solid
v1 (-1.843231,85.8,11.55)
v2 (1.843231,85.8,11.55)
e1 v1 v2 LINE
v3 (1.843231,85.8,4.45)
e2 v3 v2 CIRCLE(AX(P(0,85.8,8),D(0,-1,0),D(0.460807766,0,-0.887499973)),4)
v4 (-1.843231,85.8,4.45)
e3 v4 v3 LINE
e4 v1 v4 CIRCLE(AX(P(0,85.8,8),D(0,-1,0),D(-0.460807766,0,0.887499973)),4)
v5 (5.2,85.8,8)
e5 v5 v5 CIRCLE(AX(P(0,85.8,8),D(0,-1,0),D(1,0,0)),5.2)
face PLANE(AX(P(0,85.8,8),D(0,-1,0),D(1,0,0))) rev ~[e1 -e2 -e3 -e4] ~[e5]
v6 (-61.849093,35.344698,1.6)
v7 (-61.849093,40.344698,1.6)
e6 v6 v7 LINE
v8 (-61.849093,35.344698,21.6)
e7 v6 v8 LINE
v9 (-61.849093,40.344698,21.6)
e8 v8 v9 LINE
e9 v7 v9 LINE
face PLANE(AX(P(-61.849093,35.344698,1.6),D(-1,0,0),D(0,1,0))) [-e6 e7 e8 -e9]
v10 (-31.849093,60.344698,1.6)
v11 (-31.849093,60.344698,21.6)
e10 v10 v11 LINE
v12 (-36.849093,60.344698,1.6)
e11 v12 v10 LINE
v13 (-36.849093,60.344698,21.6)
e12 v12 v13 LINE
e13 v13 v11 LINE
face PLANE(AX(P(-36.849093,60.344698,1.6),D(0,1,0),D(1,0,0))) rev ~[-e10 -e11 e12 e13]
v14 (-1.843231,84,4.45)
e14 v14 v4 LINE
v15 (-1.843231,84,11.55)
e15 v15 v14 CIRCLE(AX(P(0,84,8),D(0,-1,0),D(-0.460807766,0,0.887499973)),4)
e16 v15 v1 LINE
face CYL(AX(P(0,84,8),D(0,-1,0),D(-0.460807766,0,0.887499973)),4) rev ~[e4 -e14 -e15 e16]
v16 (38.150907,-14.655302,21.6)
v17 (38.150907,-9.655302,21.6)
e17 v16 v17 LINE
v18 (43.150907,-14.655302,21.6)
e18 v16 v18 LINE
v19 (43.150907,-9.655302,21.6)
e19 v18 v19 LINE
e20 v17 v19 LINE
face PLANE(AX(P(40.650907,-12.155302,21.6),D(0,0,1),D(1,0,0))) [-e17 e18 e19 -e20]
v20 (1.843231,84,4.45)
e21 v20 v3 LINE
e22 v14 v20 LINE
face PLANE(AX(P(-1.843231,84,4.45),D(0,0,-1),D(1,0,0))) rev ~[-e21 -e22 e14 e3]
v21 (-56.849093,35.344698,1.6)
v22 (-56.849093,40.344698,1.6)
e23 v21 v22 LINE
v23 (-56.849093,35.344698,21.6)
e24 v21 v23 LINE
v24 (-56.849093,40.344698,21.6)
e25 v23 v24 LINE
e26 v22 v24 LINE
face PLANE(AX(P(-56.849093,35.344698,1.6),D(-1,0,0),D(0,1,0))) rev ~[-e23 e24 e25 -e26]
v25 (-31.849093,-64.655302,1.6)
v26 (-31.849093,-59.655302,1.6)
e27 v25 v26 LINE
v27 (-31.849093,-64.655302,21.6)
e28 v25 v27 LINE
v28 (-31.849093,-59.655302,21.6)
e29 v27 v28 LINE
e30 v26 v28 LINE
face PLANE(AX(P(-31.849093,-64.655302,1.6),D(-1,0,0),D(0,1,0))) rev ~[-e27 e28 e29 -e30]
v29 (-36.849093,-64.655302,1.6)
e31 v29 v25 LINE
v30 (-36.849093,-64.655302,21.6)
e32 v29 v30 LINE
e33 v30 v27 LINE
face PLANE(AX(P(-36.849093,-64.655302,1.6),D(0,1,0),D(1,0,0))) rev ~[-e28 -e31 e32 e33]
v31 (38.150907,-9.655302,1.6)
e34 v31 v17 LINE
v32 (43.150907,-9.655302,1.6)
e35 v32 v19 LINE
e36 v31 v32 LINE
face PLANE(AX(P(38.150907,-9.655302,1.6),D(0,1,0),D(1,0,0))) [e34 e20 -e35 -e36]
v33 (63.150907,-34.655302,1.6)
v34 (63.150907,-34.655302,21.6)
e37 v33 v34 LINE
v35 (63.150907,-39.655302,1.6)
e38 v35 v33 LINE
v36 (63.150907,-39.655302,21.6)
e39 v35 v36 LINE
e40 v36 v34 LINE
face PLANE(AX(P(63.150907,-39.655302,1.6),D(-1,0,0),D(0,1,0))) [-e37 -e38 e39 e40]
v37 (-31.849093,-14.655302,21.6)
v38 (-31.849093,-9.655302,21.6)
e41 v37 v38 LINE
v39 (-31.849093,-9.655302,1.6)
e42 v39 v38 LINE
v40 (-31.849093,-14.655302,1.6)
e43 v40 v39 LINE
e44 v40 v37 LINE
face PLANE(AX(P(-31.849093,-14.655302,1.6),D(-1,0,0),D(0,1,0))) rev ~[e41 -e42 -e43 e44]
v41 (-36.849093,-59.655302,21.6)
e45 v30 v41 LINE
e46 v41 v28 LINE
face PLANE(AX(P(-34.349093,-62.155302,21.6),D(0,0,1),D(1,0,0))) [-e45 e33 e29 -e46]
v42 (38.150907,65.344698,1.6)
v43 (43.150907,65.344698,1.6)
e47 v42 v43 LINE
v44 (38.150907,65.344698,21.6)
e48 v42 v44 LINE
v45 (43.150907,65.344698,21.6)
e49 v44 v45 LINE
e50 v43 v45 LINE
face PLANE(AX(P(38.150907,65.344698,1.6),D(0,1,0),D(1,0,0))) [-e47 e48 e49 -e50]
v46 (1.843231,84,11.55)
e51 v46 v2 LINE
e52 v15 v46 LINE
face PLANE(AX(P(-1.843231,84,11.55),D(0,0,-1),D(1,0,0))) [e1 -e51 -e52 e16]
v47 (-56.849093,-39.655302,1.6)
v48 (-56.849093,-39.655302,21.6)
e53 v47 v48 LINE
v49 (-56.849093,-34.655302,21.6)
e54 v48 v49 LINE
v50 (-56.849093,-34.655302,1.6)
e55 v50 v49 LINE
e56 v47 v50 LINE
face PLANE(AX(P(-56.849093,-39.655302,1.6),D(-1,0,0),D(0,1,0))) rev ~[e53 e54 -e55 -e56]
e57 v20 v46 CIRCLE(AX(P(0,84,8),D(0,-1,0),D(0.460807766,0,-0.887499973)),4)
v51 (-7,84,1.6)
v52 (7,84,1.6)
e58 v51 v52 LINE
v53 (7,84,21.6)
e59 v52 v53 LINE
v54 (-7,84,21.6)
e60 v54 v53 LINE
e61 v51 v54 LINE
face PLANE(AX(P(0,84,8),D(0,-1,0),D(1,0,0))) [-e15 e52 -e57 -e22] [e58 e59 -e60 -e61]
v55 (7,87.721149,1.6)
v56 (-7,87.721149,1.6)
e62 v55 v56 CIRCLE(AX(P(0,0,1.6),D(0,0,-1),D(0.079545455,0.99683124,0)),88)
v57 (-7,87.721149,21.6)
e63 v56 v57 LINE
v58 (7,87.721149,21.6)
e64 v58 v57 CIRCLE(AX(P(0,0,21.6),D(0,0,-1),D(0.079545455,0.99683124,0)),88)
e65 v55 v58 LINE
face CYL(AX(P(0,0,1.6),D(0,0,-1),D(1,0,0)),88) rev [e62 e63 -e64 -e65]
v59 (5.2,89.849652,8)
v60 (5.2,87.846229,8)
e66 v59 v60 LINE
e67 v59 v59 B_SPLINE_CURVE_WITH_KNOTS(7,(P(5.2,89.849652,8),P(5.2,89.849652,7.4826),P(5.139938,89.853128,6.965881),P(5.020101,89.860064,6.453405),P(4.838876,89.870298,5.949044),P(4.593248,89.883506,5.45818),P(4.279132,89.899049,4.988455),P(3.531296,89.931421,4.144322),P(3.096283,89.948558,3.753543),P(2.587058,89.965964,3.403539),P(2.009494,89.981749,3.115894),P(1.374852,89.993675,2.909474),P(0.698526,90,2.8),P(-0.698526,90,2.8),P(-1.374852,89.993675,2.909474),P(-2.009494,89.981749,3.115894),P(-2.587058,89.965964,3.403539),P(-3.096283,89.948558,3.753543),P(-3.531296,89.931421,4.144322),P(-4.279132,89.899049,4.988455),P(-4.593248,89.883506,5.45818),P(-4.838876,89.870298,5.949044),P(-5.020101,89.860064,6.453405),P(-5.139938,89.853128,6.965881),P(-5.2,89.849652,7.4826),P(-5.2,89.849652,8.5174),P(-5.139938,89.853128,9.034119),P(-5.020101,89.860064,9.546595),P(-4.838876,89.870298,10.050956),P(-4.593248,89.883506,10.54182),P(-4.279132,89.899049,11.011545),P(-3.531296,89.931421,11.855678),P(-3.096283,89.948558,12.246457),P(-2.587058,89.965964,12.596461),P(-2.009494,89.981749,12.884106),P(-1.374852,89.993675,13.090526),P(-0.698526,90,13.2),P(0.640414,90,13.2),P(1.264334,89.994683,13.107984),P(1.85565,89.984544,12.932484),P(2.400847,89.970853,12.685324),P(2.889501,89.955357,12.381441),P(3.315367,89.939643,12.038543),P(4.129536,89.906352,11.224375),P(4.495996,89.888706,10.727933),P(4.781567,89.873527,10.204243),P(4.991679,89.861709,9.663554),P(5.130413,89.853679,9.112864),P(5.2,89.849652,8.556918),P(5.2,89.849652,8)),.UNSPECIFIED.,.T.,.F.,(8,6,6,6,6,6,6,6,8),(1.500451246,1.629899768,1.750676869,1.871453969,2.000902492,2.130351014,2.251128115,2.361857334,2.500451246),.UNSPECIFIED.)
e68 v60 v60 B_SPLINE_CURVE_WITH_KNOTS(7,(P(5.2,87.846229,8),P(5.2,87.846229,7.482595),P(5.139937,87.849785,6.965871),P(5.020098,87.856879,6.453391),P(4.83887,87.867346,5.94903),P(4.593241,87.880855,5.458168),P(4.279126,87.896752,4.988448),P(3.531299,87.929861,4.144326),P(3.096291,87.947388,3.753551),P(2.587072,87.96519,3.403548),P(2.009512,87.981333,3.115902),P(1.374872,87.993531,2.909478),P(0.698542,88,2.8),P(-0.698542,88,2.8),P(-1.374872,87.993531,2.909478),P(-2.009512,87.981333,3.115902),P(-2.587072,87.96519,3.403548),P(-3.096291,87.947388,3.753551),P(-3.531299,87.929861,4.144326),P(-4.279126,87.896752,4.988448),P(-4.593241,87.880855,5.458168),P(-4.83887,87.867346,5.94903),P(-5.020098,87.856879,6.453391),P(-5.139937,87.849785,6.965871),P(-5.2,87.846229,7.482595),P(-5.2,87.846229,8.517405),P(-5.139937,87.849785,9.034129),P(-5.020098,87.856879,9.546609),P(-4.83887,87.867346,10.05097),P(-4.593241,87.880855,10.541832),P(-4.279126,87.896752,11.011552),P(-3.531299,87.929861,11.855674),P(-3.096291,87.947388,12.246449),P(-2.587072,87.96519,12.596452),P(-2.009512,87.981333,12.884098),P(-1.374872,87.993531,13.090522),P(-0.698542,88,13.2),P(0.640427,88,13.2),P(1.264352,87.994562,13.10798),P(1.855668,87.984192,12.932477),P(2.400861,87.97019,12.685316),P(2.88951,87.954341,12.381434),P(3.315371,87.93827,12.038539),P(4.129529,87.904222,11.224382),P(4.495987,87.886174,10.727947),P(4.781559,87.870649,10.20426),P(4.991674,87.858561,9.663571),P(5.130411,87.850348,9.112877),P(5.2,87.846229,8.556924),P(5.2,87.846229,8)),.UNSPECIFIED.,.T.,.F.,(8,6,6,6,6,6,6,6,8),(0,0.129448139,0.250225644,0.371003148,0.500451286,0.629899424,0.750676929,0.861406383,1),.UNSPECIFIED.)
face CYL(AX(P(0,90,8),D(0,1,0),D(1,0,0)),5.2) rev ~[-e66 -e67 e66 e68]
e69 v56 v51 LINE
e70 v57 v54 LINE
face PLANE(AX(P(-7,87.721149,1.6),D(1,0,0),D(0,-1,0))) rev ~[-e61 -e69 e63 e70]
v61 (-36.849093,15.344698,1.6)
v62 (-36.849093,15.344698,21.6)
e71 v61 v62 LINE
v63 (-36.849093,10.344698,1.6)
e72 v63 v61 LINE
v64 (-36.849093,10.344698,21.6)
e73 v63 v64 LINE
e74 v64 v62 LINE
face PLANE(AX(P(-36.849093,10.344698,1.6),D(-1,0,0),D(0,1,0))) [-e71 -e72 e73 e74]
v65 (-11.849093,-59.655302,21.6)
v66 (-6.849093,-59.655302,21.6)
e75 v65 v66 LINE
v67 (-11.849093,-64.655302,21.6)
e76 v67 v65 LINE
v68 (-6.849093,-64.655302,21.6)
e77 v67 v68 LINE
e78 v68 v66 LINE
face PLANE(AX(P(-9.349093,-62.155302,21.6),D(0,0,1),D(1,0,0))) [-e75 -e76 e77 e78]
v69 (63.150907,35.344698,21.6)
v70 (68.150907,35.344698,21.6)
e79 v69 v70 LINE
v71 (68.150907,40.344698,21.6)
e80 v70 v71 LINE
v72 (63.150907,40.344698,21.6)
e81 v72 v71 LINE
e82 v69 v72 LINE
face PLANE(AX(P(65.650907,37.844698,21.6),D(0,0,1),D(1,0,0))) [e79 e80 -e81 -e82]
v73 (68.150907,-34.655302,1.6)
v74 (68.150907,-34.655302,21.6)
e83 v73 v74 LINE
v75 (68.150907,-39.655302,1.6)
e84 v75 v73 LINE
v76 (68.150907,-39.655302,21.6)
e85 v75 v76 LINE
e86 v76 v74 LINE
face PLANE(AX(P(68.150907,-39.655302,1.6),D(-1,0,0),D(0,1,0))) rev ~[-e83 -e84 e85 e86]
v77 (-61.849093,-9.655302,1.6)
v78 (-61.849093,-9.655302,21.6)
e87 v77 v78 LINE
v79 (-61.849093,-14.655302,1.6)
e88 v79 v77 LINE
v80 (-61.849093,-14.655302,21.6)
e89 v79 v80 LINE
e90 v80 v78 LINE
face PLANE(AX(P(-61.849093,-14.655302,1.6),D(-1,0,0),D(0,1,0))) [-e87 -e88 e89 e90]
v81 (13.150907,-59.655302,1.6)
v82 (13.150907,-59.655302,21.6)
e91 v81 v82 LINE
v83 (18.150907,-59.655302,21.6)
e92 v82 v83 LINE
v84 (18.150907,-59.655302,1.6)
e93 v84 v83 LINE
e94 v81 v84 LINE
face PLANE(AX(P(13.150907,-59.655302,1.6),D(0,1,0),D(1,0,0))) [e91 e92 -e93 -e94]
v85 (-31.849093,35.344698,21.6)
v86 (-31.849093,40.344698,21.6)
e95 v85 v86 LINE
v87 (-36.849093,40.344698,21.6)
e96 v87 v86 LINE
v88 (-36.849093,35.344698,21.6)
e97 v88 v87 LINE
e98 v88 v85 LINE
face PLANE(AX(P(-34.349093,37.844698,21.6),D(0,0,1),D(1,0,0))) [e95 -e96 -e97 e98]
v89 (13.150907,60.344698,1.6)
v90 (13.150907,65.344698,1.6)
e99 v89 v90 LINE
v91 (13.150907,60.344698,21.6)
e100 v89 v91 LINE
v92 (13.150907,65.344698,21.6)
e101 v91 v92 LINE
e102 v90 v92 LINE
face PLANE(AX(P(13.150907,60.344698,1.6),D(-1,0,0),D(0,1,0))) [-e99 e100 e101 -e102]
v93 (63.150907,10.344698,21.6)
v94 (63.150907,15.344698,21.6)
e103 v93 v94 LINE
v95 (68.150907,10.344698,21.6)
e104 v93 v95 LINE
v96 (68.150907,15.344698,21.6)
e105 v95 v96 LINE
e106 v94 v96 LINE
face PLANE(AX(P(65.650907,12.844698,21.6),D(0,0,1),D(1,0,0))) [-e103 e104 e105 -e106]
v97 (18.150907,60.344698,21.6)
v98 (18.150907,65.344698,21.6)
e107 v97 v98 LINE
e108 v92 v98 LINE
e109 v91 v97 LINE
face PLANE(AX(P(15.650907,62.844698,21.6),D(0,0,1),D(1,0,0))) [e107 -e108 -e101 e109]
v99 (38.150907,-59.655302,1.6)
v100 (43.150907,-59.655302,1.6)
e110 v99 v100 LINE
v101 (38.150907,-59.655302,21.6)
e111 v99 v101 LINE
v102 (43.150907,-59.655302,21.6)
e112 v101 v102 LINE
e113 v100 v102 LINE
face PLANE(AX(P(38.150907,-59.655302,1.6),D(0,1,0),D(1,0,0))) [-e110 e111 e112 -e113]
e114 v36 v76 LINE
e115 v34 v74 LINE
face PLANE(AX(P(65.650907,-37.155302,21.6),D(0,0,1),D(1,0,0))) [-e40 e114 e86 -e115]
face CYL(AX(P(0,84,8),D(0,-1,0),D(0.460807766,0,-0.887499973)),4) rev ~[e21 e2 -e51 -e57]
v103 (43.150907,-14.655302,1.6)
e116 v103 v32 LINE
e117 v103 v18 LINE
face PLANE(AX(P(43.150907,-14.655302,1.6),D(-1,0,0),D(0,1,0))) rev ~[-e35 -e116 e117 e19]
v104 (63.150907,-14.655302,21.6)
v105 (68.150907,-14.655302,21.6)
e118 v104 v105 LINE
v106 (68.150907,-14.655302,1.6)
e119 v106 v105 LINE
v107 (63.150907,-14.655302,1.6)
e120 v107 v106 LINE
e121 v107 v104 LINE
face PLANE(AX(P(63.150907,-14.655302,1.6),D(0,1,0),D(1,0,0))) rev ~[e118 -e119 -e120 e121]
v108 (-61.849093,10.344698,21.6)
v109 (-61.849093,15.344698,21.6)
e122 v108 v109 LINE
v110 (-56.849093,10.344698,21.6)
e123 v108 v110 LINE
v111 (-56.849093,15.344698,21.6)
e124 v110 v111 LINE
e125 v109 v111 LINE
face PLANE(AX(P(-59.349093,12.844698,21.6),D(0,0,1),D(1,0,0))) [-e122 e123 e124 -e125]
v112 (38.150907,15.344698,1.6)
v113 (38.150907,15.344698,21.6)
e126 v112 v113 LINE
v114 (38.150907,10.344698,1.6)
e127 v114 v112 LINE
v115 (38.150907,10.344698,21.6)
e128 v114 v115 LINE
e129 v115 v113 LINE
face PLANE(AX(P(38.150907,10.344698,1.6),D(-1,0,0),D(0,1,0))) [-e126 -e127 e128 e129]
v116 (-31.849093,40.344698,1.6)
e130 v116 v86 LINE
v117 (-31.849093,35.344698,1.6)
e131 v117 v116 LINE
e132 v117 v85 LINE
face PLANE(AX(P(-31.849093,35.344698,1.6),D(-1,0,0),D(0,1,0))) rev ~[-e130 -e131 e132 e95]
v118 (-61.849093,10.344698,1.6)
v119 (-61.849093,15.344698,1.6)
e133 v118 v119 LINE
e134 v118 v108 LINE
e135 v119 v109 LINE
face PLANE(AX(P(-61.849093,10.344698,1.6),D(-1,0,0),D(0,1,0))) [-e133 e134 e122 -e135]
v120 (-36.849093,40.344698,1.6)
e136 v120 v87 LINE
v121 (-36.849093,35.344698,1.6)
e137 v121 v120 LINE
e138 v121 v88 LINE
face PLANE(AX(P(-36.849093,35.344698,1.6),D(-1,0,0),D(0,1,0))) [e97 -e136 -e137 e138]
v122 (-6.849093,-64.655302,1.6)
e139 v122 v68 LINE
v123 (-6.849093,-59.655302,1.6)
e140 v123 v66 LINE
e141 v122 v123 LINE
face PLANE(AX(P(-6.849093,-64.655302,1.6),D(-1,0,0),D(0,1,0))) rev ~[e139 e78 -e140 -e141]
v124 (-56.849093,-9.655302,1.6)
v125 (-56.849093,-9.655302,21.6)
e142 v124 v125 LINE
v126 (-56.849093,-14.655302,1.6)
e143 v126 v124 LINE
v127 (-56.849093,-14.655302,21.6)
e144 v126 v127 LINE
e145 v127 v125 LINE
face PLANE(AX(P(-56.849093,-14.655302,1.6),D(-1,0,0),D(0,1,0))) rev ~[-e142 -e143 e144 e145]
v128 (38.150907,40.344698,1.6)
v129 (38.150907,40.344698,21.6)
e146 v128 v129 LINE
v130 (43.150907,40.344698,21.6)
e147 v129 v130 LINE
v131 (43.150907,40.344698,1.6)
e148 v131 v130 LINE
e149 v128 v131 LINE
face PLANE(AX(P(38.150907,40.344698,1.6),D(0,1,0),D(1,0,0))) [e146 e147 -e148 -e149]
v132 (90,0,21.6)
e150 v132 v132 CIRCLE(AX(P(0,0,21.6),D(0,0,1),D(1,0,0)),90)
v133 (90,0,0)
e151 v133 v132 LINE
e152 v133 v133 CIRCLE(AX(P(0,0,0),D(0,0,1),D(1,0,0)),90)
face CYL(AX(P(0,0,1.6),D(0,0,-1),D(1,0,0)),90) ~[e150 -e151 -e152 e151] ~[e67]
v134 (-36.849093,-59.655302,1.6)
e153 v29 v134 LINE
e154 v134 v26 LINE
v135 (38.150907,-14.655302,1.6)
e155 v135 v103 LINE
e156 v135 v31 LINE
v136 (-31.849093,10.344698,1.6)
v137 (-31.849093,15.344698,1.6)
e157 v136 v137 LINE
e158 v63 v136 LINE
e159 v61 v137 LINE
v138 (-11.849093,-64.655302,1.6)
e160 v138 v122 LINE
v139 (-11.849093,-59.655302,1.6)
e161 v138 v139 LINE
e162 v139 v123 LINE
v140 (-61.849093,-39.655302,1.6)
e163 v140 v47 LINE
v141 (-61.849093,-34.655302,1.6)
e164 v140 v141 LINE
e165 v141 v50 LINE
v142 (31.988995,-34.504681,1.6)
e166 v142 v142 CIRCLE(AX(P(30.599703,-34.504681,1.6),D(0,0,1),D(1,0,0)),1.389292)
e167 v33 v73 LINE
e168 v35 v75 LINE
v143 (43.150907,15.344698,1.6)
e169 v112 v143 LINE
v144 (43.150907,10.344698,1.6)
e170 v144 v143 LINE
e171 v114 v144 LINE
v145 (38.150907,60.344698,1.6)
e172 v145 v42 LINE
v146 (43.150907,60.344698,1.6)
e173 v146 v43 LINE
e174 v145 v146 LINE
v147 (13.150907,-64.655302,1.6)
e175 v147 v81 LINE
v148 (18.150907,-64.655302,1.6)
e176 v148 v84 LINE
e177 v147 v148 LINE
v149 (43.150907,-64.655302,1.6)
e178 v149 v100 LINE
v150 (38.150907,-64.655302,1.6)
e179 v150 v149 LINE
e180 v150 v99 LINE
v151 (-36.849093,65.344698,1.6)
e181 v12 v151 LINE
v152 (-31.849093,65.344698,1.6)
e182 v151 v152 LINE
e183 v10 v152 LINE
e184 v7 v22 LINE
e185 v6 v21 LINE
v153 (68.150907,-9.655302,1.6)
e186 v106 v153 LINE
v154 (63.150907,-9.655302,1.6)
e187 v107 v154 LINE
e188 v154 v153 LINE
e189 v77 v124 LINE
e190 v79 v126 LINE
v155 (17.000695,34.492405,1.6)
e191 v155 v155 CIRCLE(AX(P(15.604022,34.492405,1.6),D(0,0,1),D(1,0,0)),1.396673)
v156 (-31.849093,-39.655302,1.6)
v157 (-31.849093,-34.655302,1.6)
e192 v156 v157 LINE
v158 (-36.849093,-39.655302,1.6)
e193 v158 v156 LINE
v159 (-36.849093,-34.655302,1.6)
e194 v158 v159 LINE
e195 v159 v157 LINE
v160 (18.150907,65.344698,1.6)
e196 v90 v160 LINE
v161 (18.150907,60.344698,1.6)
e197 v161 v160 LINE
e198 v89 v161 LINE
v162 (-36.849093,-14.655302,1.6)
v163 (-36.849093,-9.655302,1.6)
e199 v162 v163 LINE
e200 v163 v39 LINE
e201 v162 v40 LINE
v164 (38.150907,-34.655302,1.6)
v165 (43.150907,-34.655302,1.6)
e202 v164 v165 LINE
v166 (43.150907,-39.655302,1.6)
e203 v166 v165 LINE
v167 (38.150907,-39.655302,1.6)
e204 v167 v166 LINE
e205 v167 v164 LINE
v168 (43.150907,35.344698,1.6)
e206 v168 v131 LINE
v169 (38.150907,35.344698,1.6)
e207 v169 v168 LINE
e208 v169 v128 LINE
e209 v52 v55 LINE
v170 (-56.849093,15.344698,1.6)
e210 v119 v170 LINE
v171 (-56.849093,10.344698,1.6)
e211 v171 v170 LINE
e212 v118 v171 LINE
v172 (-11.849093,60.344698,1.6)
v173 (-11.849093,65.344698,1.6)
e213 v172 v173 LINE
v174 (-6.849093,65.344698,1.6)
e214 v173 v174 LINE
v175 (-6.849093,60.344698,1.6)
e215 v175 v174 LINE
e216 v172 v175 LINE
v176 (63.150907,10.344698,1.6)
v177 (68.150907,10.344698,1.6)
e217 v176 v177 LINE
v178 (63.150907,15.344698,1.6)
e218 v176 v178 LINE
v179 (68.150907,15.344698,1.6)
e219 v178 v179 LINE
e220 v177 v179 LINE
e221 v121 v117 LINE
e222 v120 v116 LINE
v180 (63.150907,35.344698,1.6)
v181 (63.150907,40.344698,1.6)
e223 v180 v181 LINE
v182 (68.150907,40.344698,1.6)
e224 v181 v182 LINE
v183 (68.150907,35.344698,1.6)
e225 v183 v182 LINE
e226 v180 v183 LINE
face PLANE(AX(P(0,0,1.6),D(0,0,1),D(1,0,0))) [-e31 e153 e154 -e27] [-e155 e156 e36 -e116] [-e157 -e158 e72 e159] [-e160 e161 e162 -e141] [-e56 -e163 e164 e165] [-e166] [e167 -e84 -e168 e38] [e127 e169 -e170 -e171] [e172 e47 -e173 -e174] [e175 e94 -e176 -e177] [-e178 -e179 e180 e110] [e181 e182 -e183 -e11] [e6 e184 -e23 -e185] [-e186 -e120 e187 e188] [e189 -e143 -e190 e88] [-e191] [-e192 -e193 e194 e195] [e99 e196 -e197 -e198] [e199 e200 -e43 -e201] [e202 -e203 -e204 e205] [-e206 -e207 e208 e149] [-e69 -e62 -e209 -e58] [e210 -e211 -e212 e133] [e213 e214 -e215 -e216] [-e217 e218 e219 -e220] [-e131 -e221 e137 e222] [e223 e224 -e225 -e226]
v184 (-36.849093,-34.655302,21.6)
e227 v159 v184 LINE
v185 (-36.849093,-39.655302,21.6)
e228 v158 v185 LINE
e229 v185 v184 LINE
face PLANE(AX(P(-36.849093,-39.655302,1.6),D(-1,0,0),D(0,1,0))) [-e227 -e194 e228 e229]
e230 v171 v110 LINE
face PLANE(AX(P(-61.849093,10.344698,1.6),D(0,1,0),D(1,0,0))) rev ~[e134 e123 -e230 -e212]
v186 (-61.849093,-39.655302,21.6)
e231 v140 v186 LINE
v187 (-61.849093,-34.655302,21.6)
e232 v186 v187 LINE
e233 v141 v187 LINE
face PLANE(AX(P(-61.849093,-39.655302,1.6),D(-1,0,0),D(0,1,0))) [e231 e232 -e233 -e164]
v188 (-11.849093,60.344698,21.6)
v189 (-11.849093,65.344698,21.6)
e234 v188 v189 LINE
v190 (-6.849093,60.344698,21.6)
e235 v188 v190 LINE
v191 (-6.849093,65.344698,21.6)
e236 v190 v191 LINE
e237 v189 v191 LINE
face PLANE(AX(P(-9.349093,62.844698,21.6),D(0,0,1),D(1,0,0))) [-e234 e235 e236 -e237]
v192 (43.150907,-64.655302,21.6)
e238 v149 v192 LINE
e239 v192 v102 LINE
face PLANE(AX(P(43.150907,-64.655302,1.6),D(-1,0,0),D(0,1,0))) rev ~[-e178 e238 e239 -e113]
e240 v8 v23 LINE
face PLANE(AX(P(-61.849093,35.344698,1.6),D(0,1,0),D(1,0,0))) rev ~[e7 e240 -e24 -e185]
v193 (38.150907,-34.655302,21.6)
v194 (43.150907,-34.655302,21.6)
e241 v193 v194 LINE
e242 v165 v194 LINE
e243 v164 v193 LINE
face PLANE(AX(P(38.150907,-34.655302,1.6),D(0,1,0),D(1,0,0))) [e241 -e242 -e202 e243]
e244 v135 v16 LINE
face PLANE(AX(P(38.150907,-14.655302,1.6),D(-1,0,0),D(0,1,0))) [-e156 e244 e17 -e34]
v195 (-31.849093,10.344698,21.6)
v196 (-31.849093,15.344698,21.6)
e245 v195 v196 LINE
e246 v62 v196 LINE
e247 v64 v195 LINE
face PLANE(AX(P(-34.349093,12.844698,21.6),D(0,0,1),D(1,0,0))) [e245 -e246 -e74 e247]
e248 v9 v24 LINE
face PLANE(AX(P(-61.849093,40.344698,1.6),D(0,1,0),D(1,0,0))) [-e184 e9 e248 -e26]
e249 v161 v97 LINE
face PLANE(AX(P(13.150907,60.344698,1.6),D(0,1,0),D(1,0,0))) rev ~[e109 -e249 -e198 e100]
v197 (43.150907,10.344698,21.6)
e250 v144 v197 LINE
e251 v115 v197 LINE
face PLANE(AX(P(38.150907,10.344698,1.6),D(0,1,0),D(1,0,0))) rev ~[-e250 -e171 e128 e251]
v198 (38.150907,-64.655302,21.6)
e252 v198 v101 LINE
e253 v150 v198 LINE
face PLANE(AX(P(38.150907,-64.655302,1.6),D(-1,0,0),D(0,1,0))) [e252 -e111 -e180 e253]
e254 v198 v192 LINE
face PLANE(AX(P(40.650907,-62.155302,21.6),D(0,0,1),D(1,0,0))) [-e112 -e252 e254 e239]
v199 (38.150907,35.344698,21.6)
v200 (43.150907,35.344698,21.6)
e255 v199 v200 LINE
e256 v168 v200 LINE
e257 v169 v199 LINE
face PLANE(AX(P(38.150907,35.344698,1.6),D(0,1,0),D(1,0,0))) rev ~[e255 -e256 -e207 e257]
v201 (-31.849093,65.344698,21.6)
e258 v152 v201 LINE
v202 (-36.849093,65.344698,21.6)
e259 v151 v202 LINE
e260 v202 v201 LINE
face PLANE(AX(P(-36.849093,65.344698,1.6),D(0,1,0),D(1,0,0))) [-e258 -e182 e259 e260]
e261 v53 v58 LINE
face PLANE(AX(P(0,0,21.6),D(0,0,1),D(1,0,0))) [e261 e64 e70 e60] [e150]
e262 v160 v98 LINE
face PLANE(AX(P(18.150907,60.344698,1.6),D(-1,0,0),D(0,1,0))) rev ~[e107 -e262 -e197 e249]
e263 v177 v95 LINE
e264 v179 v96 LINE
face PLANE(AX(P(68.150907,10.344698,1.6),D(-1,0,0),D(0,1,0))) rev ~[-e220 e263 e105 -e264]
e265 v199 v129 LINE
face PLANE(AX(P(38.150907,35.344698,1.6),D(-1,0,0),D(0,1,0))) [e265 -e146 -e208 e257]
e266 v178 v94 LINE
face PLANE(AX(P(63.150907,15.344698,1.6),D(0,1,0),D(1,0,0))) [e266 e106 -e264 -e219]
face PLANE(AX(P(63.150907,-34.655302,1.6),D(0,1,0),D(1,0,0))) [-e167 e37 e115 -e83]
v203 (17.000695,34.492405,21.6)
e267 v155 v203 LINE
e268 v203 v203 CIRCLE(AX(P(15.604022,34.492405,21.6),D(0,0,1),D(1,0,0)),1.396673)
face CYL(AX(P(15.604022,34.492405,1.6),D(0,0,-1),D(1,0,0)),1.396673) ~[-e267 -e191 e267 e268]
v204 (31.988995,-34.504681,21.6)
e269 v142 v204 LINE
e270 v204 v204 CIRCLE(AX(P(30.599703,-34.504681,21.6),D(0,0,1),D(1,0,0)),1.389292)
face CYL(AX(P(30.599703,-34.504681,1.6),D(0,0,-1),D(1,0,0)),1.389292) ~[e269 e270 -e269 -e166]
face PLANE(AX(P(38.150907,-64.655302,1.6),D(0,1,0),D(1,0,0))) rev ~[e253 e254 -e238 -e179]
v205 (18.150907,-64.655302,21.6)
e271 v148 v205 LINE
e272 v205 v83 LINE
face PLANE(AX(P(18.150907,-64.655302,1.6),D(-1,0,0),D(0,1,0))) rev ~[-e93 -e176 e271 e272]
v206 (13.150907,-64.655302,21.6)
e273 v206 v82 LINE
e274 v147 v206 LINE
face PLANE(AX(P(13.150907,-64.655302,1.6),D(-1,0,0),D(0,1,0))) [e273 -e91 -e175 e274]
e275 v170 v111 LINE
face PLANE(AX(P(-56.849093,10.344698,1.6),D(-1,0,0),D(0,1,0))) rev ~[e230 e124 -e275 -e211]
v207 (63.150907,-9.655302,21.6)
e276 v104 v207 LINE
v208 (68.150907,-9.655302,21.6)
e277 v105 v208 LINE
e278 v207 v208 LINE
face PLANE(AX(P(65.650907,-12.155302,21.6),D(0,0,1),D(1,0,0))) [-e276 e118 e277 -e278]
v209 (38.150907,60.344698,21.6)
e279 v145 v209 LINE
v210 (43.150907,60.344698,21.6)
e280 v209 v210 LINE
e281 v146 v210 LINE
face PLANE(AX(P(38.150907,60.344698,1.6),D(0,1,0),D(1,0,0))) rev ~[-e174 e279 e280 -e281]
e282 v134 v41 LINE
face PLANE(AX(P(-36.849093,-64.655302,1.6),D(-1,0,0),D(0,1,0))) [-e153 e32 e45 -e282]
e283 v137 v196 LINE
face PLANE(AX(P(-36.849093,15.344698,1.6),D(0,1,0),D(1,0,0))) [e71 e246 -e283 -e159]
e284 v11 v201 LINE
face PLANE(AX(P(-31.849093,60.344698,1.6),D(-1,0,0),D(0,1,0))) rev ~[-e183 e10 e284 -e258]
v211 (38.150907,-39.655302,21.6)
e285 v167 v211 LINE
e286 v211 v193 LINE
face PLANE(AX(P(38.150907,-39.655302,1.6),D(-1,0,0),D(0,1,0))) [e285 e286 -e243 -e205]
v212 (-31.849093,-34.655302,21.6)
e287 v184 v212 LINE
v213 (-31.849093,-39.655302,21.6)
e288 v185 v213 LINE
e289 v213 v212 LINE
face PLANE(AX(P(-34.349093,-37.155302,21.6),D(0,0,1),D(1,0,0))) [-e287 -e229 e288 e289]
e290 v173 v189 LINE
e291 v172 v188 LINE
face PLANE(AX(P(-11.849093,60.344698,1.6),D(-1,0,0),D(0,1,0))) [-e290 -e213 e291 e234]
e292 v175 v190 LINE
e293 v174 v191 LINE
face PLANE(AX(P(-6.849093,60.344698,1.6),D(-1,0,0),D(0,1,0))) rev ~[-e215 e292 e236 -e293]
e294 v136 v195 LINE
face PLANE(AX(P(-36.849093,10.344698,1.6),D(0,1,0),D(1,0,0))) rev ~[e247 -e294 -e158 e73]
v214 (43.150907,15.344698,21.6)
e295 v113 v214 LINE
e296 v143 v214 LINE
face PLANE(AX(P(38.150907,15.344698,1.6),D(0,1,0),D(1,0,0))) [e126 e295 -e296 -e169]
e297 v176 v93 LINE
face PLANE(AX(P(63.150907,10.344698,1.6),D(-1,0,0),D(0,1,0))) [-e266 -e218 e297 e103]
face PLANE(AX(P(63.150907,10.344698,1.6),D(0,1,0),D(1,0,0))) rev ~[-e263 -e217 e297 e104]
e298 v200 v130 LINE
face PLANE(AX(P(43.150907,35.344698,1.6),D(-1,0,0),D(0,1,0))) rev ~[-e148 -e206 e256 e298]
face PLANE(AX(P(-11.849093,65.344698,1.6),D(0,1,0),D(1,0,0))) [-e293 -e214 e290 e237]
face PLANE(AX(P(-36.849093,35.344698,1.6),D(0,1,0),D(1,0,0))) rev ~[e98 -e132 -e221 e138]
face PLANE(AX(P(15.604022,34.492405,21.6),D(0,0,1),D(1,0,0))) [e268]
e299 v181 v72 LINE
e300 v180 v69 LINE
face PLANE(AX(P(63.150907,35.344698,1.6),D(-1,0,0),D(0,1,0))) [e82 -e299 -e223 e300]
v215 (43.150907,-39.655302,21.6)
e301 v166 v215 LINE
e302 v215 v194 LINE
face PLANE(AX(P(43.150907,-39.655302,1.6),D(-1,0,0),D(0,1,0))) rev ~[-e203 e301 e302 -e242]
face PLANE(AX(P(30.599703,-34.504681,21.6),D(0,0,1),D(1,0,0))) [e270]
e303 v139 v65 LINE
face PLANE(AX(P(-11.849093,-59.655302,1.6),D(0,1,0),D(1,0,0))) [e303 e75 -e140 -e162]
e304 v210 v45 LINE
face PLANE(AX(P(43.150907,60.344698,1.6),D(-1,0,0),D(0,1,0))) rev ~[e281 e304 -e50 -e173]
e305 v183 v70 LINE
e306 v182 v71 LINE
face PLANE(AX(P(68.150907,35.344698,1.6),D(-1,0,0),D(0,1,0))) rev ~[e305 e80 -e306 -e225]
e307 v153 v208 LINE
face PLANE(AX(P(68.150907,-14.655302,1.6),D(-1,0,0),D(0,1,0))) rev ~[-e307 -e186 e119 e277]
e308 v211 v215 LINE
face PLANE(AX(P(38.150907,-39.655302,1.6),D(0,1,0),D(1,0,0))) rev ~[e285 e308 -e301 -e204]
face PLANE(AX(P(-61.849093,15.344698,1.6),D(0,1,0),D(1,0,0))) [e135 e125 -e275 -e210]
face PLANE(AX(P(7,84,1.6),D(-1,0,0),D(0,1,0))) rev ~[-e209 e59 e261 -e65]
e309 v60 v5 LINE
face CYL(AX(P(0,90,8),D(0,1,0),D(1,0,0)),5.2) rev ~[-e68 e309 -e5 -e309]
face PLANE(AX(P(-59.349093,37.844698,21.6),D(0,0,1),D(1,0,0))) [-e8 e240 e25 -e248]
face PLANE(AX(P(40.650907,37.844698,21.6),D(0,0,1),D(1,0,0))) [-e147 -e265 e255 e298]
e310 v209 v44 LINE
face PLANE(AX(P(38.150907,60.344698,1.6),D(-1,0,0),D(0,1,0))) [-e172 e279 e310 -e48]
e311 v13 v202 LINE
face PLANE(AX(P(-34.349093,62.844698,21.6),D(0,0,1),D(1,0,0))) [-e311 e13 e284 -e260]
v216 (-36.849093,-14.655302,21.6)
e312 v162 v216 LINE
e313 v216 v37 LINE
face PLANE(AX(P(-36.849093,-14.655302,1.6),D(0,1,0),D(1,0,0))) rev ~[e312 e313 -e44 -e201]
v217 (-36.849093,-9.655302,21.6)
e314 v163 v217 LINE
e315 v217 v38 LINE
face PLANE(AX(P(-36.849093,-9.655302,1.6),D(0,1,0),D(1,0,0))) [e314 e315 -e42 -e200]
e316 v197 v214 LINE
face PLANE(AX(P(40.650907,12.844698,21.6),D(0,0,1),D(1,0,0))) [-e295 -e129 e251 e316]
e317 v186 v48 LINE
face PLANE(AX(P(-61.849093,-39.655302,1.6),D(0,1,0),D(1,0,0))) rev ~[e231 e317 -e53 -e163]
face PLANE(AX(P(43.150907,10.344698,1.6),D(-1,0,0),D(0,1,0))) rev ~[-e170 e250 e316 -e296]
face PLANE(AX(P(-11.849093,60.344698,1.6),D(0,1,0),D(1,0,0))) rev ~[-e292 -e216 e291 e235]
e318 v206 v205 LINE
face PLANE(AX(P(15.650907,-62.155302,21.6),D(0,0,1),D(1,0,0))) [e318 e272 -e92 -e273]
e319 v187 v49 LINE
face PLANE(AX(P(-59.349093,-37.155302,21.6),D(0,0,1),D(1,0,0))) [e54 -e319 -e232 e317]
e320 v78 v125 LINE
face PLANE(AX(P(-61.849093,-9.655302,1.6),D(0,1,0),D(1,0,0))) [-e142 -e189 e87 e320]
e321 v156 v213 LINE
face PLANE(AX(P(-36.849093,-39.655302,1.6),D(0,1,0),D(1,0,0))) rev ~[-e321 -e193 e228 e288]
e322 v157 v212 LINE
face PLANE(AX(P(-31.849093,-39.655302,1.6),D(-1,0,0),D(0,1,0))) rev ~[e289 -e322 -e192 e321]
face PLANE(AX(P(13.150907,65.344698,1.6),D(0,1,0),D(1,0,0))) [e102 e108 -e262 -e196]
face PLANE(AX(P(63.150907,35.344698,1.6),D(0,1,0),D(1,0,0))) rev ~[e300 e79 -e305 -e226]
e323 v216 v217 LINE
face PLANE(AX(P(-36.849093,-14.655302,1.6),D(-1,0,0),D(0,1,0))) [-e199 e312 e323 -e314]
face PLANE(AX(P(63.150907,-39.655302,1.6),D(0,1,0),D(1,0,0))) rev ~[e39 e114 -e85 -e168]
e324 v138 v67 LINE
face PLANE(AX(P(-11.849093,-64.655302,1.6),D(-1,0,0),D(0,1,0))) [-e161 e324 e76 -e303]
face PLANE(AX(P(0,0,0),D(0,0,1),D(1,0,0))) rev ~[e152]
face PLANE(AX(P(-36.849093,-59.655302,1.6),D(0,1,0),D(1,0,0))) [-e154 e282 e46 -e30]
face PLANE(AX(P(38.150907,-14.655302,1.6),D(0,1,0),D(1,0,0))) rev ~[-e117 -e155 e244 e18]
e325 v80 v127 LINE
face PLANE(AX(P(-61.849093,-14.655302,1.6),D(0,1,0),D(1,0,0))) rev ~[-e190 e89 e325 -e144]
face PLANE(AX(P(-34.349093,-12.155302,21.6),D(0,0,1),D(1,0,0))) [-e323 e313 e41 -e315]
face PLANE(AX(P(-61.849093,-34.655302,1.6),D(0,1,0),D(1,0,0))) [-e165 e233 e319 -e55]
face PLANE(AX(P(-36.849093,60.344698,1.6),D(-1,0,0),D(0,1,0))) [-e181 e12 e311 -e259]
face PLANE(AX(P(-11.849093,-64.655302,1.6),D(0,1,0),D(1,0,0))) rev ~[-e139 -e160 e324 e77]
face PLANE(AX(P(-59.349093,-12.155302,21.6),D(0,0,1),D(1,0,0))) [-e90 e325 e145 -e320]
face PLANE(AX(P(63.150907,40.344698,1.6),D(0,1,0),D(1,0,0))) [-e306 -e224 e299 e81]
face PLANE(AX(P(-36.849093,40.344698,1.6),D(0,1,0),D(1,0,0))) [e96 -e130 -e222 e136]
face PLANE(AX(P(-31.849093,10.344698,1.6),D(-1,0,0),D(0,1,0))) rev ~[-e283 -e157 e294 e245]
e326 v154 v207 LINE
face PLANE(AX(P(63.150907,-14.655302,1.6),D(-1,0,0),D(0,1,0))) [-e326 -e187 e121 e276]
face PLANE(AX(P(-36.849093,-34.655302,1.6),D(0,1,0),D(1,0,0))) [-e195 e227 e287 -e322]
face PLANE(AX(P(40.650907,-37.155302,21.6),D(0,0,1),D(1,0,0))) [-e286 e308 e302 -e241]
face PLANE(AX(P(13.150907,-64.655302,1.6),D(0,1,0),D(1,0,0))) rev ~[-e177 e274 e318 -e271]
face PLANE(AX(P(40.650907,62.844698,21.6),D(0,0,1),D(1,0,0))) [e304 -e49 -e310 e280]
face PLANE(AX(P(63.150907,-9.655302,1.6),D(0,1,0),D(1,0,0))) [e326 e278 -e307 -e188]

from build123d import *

# Parameters (mm, degrees)
SKETCH_R        = 90
PAD_DEPTH       = 1.6
SKETCH001_R     = 90
SKETCH001_R_2   = 88
PAD001_DEPTH    = 20
SKETCH006_R     = 5.2
POCKET_DEPTH    = 6
PAD006_DEPTH    = 20
POCKET001_DEPTH = 8
SKETCH008_R     = 5.2
PAD007_DEPTH    = 1.8
SKETCH057_R     = 1.396673
SKETCH057_R_2   = 1.389292
SKETCH057_W     = 5
SKETCH057_H     = 5
PAD037_DEPTH    = 20


with BuildPart() as part:
    # Sketch → Pad (new body)
    with BuildSketch(Plane.XY):
        Circle(SKETCH_R)
    extrude(amount=PAD_DEPTH)

    # Sketch001 (on Face3 of Pad) → Pad001 (join)
    with BuildSketch(Plane.XY.offset(1.6)):
        Circle(SKETCH001_R)
        Circle(SKETCH001_R_2, mode=Mode.SUBTRACT)
    extrude(amount=PAD001_DEPTH)

    # Sketch006 (on Face2 of ShapeBinder) → Pocket (cut)
    with BuildSketch(Plane(origin=(0, 90, 8), x_dir=(1, 0, 0), z_dir=(0, 1, 0))):
        Circle(SKETCH006_R)
    extrude(amount=-POCKET_DEPTH, mode=Mode.SUBTRACT)

    # Sketch007 (on Face7 of Pocket) → Pad006 (join)
    with BuildSketch(Plane.XY.offset(1.6)):
        with BuildLine():
            ThreePointArc((7, 87.721149), (0, 88), (-7, 87.721149))
            Line((-7, 87.721149), (-7, 84))
            Line((-7, 84), (7, 84))
            Line((7, 84), (7, 87.721149))
        make_face()
    extrude(amount=PAD006_DEPTH)

    # Sketch006 (on Face2 of ShapeBinder) → Pocket001 (cut)
    with BuildSketch(Plane(origin=(0, 90, 8), x_dir=(1, 0, 0), z_dir=(0, 1, 0))):
        Circle(SKETCH006_R)
    extrude(amount=-POCKET001_DEPTH, mode=Mode.SUBTRACT)

    # Sketch008 (on Face13 of Pocket001) → Pad007 (join)
    with BuildSketch(Plane.XZ.offset(-84)):
        with Locations((0, 8)):
            Circle(SKETCH008_R)
        with BuildLine():
            ThreePointArc((1.843231, 4.45), (4, 8), (1.843231, 11.55))
            Line((-1.843231, 11.55), (1.843231, 11.55))
            ThreePointArc((-1.843231, 11.55), (-4, 8), (-1.843231, 4.45))
            Line((-1.843231, 4.45), (1.843231, 4.45))
        make_face(mode=Mode.SUBTRACT)
    extrude(amount=-PAD007_DEPTH)

    # Sketch057 (on Face10 of Pad007) → Pad037 (join)
    with BuildSketch(Plane.XY.offset(1.6)):
        with Locations((15.604022, 34.492405)):
            Circle(SKETCH057_R)
        with Locations((30.599703, -34.504681)):
            Circle(SKETCH057_R_2)
        with Locations((-34.349093, -62.155302)):
            Rectangle(SKETCH057_W, SKETCH057_H)
        with Locations((-9.349093, -62.155302)):
            Rectangle(SKETCH057_W, SKETCH057_H)
        with Locations((15.650907, -62.155302)):
            Rectangle(SKETCH057_W, SKETCH057_H)
        with Locations((40.650907, -62.155302)):
            Rectangle(SKETCH057_W, SKETCH057_H)
        with Locations((-59.349093, -37.155302)):
            Rectangle(SKETCH057_W, SKETCH057_H)
        with Locations((-34.349093, -37.155302)):
            Rectangle(SKETCH057_W, SKETCH057_H)
        with Locations((40.650907, -37.155302)):
            Rectangle(SKETCH057_W, SKETCH057_H)
        with Locations((65.650907, -37.155302)):
            Rectangle(SKETCH057_W, SKETCH057_H)
        with Locations((-59.349093, -12.155302)):
            Rectangle(SKETCH057_W, SKETCH057_H)
        with Locations((-34.349093, -12.155302)):
            Rectangle(SKETCH057_W, SKETCH057_H)
        with Locations((40.650907, -12.155302)):
            Rectangle(SKETCH057_W, SKETCH057_H)
        with Locations((65.650907, -12.155302)):
            Rectangle(SKETCH057_W, SKETCH057_H)
        with Locations((-59.349093, 12.844698)):
            Rectangle(SKETCH057_W, SKETCH057_H)
        with Locations((-34.349093, 12.844698)):
            Rectangle(SKETCH057_W, SKETCH057_H)
        with Locations((40.650907, 12.844698)):
            Rectangle(SKETCH057_W, SKETCH057_H)
        with Locations((65.650907, 12.844698)):
            Rectangle(SKETCH057_W, SKETCH057_H)
        with Locations((-59.349093, 37.844698)):
            Rectangle(SKETCH057_W, SKETCH057_H)
        with Locations((-34.349093, 37.844698)):
            Rectangle(SKETCH057_W, SKETCH057_H)
        with Locations((40.650907, 37.844698)):
            Rectangle(SKETCH057_W, SKETCH057_H)
        with Locations((65.650907, 37.844698)):
            Rectangle(SKETCH057_W, SKETCH057_H)
        with Locations((-34.349093, 62.844698)):
            Rectangle(SKETCH057_W, SKETCH057_H)
        with Locations((-9.349093, 62.844698)):
            Rectangle(SKETCH057_W, SKETCH057_H)
        with Locations((15.650907, 62.844698)):
            Rectangle(SKETCH057_W, SKETCH057_H)
        with Locations((40.650907, 62.844698)):
            Rectangle(SKETCH057_W, SKETCH057_H)
    extrude(amount=PAD037_DEPTH)


solid = part.part
